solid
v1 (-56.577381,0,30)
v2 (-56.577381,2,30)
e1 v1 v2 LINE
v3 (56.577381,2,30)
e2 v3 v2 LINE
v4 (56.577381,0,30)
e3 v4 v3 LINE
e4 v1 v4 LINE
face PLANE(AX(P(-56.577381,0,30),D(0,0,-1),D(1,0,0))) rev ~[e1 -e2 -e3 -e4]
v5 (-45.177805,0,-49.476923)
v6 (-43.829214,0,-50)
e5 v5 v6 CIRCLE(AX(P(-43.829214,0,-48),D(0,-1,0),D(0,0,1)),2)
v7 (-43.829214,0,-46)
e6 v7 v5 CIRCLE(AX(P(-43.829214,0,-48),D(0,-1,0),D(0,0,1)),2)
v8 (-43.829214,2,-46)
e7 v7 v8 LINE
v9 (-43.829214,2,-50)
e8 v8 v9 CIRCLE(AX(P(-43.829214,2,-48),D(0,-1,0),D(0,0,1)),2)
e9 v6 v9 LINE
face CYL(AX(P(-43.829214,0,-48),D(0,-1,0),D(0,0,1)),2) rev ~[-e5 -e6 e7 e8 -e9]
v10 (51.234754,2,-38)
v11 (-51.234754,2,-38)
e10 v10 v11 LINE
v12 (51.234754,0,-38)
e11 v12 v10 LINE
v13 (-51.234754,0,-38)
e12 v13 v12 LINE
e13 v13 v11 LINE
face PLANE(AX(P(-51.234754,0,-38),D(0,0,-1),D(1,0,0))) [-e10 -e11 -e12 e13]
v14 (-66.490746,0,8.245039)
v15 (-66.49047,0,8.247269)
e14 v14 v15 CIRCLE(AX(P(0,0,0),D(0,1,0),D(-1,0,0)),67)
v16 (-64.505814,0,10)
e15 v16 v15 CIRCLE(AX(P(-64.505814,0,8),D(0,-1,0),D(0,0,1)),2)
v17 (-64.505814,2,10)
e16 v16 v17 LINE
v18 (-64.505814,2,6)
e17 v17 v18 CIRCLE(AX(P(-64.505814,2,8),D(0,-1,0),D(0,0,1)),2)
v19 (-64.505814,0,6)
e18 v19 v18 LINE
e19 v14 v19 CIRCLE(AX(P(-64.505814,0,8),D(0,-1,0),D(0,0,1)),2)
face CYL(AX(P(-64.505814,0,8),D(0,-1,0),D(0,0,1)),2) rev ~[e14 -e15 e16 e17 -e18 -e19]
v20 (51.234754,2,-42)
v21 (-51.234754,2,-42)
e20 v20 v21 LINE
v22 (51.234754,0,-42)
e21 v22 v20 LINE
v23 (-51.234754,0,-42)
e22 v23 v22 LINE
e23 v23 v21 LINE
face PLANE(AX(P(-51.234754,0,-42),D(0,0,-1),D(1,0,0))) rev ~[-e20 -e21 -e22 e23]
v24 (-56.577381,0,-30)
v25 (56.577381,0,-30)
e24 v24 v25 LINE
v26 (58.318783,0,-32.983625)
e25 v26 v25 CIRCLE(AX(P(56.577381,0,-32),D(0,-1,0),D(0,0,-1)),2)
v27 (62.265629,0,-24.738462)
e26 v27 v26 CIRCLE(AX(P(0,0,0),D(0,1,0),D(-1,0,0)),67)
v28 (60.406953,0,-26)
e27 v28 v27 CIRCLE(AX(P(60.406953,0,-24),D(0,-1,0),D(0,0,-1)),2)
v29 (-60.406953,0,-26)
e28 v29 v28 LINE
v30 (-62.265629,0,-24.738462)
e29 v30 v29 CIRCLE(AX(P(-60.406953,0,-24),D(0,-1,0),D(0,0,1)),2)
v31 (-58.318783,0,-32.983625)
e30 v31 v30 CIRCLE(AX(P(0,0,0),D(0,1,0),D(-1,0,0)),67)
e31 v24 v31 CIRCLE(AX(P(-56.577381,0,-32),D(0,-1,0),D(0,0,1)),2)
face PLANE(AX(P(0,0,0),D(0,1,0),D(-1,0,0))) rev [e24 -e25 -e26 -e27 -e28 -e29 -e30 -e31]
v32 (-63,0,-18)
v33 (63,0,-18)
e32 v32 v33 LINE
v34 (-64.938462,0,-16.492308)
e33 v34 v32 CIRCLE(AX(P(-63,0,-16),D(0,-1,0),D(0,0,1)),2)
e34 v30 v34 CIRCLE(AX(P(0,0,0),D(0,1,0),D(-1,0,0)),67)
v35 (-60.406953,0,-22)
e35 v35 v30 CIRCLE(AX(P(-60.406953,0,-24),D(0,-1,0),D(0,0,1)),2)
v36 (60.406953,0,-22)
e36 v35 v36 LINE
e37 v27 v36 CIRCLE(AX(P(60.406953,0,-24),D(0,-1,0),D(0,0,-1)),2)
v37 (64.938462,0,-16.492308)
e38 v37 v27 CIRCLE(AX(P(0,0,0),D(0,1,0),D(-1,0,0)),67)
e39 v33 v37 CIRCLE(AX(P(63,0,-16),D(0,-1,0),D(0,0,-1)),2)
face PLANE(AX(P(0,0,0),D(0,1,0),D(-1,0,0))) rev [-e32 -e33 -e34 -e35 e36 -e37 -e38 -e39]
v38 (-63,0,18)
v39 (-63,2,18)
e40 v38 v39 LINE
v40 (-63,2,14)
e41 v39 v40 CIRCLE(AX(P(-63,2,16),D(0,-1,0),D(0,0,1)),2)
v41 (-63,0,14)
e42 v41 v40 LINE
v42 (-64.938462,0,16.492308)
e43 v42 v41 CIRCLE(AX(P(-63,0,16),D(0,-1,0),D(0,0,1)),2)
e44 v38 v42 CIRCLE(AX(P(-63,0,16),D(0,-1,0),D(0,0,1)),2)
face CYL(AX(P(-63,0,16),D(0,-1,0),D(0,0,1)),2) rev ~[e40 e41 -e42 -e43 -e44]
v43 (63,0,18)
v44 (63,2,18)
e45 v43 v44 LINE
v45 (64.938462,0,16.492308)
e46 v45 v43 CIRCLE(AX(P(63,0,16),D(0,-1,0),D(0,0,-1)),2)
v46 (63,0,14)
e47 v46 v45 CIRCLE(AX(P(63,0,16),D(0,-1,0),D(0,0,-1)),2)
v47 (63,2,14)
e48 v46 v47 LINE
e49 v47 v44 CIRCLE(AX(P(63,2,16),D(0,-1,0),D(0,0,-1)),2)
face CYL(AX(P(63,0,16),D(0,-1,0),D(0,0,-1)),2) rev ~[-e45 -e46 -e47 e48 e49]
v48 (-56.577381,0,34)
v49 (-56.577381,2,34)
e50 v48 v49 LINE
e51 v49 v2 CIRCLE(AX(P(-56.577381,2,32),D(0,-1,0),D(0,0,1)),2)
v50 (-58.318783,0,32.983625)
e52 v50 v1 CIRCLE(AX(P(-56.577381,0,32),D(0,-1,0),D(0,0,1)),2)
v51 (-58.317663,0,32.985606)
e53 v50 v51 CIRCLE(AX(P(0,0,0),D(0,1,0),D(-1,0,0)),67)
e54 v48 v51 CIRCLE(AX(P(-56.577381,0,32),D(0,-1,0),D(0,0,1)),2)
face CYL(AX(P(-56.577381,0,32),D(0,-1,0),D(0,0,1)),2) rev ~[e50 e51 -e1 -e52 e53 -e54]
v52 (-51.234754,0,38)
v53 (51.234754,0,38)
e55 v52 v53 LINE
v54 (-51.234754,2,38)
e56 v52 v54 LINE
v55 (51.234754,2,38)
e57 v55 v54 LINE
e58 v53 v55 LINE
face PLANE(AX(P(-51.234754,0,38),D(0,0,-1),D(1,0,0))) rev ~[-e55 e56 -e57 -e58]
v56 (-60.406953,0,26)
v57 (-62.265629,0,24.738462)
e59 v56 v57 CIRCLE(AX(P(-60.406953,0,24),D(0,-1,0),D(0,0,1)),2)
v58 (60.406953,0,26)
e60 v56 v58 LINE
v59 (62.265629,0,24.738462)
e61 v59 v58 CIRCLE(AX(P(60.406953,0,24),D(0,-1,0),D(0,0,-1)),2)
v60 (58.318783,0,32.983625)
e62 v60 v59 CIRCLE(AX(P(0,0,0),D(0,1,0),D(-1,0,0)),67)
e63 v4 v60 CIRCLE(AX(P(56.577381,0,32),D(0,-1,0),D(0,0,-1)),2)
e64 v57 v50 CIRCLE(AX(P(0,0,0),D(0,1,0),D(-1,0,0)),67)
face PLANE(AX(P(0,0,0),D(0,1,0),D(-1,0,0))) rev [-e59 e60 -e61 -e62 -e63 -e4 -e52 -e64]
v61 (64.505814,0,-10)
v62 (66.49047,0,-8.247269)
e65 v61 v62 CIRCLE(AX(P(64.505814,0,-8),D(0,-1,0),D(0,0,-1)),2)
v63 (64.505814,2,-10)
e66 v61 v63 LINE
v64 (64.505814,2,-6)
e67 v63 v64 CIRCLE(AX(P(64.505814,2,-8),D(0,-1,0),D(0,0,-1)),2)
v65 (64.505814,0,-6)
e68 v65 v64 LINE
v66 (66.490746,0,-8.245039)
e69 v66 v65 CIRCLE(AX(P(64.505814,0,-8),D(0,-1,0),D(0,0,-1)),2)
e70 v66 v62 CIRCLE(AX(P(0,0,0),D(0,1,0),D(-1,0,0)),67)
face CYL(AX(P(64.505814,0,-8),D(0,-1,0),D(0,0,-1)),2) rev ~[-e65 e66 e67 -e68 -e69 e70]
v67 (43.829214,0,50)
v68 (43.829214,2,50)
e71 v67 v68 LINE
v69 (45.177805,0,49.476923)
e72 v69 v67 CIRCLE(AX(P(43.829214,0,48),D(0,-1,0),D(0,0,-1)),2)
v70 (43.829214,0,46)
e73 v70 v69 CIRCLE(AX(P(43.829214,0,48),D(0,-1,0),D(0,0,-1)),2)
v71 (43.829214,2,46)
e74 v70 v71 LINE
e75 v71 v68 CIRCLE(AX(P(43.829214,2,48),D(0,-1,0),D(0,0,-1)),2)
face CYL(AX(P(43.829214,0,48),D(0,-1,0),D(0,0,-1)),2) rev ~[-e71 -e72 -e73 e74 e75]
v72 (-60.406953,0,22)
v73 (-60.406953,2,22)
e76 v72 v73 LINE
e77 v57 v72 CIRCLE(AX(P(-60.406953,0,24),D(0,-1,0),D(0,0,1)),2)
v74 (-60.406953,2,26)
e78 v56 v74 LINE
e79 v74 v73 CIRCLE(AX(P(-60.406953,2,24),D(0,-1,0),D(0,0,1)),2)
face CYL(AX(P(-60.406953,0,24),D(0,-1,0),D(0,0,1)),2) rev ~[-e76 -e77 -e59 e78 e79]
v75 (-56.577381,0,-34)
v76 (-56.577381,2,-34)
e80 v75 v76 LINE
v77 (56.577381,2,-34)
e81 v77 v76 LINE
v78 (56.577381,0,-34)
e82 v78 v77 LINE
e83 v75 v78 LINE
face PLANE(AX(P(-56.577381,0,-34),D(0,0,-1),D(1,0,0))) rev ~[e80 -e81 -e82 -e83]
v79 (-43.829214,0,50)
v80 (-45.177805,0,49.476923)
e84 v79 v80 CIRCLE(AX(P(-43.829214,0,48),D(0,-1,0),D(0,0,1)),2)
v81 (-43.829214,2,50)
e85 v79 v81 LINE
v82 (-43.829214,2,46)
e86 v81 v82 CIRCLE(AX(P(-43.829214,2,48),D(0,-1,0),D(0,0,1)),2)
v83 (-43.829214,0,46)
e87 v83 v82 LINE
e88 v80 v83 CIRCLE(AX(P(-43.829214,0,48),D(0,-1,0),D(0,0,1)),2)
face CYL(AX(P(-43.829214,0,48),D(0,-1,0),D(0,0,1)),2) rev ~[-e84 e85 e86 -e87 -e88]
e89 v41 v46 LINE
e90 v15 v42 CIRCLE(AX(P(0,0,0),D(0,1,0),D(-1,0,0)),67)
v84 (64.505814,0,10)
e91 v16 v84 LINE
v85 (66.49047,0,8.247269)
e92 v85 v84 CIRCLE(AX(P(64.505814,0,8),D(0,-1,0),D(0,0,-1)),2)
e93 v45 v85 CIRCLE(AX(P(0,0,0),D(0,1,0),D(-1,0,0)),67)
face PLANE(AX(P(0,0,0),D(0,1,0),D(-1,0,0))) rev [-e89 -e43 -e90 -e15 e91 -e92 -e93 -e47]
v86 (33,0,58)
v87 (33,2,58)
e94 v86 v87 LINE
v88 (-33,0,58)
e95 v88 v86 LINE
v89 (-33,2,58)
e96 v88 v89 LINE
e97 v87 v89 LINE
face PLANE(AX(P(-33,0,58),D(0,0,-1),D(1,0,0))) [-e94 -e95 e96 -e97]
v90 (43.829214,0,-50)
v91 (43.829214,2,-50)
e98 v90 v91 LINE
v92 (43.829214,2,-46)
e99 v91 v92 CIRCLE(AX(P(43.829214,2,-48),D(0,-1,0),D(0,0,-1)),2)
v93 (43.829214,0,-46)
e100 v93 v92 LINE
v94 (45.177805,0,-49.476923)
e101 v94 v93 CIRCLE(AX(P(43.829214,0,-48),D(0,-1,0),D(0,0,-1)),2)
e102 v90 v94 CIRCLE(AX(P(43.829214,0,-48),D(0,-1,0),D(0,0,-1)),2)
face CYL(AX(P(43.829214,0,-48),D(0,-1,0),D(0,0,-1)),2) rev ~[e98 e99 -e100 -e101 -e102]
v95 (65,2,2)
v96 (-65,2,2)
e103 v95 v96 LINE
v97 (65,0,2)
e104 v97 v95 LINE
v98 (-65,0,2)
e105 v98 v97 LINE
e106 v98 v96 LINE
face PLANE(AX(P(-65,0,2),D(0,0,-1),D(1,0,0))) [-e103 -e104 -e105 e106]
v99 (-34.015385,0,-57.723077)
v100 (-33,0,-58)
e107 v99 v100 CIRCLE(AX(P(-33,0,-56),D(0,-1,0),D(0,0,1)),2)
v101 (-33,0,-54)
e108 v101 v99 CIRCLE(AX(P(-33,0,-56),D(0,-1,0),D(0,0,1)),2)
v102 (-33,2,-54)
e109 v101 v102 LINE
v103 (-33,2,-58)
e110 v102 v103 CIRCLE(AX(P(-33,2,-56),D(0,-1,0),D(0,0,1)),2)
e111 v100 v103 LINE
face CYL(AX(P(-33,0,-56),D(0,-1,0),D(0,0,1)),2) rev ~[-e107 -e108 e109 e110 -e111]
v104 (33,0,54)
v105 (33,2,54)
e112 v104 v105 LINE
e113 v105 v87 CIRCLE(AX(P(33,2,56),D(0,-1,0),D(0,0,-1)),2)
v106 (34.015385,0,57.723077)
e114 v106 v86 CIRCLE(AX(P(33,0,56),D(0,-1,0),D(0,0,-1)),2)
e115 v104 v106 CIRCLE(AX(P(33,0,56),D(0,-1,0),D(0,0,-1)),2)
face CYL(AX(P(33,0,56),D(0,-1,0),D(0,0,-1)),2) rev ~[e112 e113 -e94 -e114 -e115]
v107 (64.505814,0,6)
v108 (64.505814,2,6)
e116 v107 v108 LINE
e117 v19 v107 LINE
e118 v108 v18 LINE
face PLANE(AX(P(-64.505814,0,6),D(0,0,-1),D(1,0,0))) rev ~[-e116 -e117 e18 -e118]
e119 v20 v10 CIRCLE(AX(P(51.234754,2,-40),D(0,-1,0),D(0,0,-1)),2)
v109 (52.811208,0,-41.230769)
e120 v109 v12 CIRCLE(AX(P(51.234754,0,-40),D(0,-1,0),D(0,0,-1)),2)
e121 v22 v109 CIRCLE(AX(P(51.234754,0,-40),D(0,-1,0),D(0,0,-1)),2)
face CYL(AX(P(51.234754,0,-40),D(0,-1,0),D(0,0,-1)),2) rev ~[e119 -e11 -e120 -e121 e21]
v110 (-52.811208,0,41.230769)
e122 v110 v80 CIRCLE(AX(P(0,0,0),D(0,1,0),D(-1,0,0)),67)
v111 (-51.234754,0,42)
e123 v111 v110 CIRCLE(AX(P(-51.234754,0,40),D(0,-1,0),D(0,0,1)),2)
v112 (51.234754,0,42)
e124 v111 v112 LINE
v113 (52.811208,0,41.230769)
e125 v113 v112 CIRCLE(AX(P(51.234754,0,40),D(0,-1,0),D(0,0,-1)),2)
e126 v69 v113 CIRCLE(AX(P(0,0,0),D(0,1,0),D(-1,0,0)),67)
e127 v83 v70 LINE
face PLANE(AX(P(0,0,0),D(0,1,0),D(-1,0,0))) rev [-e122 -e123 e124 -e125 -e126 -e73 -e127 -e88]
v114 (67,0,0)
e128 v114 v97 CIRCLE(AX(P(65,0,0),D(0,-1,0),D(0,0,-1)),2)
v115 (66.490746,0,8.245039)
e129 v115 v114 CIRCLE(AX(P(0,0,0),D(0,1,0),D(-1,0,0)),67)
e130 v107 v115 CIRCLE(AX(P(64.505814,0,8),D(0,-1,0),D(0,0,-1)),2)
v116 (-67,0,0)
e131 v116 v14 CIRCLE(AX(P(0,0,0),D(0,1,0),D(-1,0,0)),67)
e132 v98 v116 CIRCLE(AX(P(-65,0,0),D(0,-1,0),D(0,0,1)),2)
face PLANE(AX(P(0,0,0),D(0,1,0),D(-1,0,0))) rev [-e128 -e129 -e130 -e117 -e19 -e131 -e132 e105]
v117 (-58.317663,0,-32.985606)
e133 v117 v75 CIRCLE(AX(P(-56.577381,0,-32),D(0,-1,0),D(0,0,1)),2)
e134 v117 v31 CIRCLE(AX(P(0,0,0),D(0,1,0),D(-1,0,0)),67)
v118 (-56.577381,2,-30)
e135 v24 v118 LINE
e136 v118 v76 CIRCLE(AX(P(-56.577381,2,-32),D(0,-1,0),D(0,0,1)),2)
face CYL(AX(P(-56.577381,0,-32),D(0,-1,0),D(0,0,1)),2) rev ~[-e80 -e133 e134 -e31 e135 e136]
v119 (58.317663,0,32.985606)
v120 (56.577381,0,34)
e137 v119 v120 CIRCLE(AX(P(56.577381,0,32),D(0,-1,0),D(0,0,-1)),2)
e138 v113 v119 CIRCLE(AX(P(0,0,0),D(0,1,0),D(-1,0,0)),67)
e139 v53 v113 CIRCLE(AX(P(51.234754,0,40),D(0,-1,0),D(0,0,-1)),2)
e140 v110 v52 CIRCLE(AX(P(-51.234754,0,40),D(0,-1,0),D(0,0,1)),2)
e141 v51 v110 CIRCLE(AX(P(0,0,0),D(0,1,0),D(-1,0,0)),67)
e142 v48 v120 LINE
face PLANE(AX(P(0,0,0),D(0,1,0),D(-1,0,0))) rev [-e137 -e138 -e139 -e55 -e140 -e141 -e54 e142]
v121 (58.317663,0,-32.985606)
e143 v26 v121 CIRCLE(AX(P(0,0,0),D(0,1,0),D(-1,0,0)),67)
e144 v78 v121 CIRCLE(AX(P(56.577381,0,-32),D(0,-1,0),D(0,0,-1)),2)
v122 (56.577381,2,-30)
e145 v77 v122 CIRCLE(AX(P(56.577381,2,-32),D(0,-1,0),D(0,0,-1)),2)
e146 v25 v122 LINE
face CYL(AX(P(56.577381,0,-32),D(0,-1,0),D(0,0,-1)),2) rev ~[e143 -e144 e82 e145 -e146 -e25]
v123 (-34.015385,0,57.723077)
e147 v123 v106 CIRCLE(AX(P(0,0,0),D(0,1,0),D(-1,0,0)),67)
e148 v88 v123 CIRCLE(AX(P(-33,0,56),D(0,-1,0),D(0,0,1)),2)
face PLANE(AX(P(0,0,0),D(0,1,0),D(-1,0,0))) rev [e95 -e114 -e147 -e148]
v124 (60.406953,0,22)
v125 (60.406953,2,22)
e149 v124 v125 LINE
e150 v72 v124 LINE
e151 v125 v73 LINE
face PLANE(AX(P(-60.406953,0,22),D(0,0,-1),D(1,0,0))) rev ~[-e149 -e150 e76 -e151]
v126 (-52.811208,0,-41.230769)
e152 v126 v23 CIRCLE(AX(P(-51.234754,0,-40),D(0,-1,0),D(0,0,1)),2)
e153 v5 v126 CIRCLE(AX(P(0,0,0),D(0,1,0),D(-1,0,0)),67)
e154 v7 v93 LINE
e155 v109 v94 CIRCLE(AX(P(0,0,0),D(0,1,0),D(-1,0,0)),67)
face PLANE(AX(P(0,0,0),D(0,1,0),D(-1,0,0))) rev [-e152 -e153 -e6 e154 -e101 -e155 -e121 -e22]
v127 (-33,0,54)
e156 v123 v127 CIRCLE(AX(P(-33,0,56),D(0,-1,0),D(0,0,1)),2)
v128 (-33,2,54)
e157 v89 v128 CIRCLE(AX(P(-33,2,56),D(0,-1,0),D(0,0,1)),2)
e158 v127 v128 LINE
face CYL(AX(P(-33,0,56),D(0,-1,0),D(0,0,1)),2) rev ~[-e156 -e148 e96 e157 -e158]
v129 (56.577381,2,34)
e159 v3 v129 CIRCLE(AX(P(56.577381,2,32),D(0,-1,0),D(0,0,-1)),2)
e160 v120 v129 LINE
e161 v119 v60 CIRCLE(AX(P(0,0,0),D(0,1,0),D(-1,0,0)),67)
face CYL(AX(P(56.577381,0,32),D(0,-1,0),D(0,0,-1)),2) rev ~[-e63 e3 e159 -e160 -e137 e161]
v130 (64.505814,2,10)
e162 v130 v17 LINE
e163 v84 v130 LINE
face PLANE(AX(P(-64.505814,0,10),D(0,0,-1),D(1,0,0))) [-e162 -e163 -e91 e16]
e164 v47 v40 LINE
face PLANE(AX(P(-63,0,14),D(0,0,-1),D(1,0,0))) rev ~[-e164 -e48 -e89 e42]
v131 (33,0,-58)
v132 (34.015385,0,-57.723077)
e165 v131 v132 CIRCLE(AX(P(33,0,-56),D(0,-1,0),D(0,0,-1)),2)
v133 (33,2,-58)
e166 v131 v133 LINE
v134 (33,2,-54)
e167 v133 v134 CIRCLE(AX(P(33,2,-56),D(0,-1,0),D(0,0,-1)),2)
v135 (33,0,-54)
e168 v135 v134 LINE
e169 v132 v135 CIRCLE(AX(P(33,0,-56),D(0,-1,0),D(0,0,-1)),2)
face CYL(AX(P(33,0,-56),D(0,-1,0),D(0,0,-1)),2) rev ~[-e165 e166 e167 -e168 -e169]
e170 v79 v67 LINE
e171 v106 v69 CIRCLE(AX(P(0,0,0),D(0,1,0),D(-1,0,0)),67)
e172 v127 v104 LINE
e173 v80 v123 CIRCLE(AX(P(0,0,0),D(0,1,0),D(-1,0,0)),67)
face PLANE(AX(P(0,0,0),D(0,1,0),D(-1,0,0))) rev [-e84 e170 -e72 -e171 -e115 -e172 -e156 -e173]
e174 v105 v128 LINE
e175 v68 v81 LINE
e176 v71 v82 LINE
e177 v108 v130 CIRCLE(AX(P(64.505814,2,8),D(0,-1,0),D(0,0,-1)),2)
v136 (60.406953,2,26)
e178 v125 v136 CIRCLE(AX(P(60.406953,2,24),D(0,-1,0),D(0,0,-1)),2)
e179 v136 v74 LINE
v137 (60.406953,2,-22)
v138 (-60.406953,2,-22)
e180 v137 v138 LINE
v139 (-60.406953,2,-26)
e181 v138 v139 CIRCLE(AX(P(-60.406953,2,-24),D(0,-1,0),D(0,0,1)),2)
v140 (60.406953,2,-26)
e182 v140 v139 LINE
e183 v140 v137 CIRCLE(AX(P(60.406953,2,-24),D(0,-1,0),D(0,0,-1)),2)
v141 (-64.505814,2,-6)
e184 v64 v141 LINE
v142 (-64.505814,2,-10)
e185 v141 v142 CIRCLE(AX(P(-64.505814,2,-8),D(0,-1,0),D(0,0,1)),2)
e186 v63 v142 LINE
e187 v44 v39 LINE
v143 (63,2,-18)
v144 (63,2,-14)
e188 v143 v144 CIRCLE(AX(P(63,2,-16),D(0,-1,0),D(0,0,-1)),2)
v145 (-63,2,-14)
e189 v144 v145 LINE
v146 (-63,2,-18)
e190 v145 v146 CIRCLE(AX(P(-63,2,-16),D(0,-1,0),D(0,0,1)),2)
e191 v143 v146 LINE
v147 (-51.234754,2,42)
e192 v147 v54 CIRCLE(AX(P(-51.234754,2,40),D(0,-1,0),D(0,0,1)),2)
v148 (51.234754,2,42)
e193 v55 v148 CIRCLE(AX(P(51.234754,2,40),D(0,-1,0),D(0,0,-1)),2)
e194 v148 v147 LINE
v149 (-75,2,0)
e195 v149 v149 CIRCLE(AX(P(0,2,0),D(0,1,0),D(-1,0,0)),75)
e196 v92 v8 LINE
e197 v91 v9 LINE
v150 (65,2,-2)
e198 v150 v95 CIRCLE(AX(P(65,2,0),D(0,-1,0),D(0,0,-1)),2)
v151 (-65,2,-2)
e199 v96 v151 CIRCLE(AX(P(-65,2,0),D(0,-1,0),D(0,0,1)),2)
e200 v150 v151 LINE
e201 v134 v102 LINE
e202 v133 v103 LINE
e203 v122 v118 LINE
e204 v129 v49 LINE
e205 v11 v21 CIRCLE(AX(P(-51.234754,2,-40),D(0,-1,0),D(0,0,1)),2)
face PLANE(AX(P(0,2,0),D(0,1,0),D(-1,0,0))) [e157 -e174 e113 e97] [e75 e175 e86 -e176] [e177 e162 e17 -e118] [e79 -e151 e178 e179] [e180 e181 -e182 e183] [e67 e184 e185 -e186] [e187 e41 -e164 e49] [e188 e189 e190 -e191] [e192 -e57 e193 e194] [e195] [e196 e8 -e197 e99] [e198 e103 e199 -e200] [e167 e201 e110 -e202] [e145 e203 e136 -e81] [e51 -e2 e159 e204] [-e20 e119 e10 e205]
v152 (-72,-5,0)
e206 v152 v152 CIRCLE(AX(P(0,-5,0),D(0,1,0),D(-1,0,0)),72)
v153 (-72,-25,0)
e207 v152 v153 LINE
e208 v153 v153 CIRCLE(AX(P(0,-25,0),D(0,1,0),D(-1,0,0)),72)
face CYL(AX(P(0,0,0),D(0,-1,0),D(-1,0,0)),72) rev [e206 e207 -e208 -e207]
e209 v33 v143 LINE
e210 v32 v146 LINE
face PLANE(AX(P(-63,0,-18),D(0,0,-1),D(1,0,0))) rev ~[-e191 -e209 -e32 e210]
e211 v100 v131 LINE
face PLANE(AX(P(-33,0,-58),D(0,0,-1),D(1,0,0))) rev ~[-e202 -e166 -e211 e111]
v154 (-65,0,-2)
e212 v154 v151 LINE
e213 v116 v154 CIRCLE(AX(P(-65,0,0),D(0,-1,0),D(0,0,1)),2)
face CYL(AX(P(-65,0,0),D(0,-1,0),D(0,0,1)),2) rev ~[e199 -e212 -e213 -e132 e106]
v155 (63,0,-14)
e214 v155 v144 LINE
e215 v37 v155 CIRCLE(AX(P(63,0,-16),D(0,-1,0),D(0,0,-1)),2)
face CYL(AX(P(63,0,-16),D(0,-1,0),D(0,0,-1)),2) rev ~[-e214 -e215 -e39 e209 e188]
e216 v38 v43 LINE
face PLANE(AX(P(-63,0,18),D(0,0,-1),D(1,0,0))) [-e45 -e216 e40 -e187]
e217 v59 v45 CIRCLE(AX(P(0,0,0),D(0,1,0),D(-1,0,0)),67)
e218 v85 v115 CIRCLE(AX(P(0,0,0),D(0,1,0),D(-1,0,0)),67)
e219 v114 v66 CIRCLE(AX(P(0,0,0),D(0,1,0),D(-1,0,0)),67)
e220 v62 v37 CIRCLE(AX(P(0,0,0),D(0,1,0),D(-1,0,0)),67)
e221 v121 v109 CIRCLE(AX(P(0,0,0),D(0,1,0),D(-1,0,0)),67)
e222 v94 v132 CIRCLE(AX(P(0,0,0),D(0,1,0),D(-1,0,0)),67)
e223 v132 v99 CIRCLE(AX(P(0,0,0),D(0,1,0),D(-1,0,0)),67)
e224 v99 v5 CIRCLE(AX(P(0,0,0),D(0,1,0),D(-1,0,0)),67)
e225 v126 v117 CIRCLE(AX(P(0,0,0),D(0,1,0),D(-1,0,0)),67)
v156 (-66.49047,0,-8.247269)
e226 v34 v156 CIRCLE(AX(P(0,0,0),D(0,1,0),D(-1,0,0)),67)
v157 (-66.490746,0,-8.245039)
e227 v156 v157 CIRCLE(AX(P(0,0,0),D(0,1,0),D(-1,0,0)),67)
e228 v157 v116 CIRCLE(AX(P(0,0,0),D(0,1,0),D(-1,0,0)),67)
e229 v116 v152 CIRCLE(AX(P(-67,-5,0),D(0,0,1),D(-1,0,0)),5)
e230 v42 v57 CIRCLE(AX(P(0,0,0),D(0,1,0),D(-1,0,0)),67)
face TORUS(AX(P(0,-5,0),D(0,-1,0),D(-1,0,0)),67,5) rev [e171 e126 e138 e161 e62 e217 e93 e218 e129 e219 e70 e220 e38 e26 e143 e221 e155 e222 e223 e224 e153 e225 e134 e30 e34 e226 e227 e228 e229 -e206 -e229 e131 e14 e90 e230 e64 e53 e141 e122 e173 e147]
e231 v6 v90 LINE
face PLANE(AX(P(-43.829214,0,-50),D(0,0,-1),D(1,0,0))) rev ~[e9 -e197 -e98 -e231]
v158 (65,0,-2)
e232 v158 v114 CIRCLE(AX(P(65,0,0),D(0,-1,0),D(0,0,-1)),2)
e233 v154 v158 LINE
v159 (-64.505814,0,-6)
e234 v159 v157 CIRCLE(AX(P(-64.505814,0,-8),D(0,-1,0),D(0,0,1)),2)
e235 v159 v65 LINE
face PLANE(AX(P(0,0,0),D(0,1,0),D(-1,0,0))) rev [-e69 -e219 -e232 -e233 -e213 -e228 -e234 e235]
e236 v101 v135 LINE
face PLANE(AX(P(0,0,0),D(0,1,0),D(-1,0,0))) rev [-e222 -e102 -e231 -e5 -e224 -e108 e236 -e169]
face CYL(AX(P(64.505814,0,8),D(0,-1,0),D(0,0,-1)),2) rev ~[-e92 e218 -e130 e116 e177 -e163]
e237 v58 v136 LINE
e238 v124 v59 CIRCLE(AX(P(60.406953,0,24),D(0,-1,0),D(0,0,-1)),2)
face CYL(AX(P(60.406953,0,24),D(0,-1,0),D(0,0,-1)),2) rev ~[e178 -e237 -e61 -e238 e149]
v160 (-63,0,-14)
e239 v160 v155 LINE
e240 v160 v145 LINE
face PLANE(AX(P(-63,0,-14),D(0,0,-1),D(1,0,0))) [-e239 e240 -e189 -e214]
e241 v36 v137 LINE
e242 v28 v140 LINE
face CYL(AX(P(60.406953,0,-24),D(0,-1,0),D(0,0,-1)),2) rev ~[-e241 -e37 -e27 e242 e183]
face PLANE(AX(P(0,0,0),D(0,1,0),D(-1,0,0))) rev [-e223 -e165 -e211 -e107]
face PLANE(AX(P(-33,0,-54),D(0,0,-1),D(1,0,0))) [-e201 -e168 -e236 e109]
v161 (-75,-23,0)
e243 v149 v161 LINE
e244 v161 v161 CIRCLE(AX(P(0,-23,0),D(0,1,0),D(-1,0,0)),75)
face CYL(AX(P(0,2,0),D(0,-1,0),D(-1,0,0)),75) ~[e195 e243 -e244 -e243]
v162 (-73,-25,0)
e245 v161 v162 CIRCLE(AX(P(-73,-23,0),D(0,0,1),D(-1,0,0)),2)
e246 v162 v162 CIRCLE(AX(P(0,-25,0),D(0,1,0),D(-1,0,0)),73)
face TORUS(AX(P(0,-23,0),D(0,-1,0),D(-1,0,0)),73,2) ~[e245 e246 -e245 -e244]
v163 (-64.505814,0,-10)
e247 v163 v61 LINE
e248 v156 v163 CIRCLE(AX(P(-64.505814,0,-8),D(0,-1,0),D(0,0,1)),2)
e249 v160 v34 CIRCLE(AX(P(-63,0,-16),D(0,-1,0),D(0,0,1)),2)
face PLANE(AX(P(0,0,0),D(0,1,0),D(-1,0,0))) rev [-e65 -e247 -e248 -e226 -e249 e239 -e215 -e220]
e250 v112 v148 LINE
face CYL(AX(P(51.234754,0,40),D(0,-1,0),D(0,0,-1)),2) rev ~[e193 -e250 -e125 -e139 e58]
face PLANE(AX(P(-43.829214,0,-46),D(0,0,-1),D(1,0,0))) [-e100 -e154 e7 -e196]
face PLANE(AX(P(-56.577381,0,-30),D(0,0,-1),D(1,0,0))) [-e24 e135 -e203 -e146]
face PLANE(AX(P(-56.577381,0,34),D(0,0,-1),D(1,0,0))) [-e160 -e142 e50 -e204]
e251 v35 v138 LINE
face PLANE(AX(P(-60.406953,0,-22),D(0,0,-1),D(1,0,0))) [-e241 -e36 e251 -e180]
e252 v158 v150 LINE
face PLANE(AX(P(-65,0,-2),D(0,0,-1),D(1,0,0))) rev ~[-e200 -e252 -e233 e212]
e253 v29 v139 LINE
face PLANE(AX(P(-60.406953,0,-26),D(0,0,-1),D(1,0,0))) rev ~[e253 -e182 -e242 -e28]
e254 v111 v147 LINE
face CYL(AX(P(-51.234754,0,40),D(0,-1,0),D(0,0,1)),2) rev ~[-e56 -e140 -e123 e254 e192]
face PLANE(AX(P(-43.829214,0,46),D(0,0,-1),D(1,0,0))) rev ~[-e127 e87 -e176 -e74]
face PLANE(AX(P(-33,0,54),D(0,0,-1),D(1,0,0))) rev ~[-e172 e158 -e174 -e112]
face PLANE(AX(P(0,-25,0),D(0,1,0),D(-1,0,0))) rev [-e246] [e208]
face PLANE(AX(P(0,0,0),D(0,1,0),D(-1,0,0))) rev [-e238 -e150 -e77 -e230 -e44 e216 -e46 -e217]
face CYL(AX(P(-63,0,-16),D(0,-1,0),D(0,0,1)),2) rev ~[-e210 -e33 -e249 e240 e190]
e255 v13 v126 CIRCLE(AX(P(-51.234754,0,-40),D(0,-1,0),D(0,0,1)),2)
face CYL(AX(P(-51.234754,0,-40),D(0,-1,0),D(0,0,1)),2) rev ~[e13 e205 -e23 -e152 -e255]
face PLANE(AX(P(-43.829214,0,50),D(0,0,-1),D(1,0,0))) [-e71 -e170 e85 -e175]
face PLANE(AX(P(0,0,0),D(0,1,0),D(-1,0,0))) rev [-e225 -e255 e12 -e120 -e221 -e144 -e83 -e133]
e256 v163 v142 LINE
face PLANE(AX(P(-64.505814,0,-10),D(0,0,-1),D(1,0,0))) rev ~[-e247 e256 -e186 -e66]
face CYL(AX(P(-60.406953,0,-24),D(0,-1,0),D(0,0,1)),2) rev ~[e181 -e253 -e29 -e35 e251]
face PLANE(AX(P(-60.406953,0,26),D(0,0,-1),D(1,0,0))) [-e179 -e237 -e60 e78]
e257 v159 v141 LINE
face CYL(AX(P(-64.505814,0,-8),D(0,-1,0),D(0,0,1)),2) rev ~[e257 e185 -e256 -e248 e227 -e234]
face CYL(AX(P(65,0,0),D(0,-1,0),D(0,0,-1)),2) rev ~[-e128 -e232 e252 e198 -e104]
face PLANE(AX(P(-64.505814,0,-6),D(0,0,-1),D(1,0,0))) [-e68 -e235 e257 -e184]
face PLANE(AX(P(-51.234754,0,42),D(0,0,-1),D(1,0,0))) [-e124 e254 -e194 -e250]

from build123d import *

# Parameters (mm, degrees)
FILLET_R     = 5
POCKET_DEPTH = 5
FILLET003_R  = 2


with BuildPart() as part:
    # Sketch001 → Revolution001 (revolve)
    with BuildSketch(Plane.XY):
        Polygon((0, 0), (-72, 0), (-72, -25), (-75, -25), (-75, 0), (-75, 2), (0, 2), align=None)
    revolve(axis=Axis((0, 0, 0), (0, 1, 0)))

    # Fillet
    fillet_edges = [part.edges().sort_by_distance(p)[0] for p in [
        (72, 0, 0),
    ]]
    fillet(fillet_edges, radius=FILLET_R)

    # Sketch002 (on Face1 of Fillet) → Pocket (cut)
    with BuildSketch(Plane.XZ):
        with BuildLine():
            ThreePointArc((-65, 2), (-67, 0), (-65, -2))
            Line((-65, -2), (65, -2))
            ThreePointArc((65, -2), (67, 0), (65, 2))
            Line((-65, 2), (65, 2))
        make_face()
        with BuildLine():
            ThreePointArc((-64.505814, 10), (-66.505814, 8), (-64.505814, 6))
            Line((-64.505814, 6), (64.505814, 6))
            ThreePointArc((64.505814, 6), (66.505814, 8), (64.505814, 10))
            Line((-64.505814, 10), (64.505814, 10))
        make_face()
        with BuildLine():
            ThreePointArc((-63, 18), (-65, 16), (-63, 14))
            Line((-63, 14), (63, 14))
            ThreePointArc((63, 14), (65, 16), (63, 18))
            Line((-63, 18), (63, 18))
        make_face()
        with BuildLine():
            ThreePointArc((-60.406953, 26), (-62.406953, 24), (-60.406953, 22))
            Line((-60.406953, 22), (60.406953, 22))
            ThreePointArc((60.406953, 22), (62.406953, 24), (60.406953, 26))
            Line((-60.406953, 26), (60.406953, 26))
        make_face()
        with BuildLine():
            ThreePointArc((-56.577381, 34), (-58.577381, 32), (-56.577381, 30))
            Line((-56.577381, 30), (56.577381, 30))
            ThreePointArc((56.577381, 30), (58.577381, 32), (56.577381, 34))
            Line((-56.577381, 34), (56.577381, 34))
        make_face()
        with BuildLine():
            ThreePointArc((-51.234754, 42), (-53.234754, 40), (-51.234754, 38))
            Line((-51.234754, 38), (51.234754, 38))
            ThreePointArc((51.234754, 38), (53.234754, 40), (51.234754, 42))
            Line((-51.234754, 42), (51.234754, 42))
        make_face()
        with BuildLine():
            ThreePointArc((-43.829214, 50), (-45.829214, 48), (-43.829214, 46))
            Line((-43.829214, 46), (43.829214, 46))
            ThreePointArc((43.829214, 46), (45.829214, 48), (43.829214, 50))
            Line((-43.829214, 50), (43.829214, 50))
        make_face()
        with BuildLine():
            ThreePointArc((-33, 58), (-35, 56), (-33, 54))
            Line((-33, 54), (33, 54))
            ThreePointArc((33, 54), (35, 56), (33, 58))
            Line((-33, 58), (33, 58))
        make_face()
        with BuildLine():
            ThreePointArc((-64.505814, -6), (-66.505814, -8), (-64.505814, -10))
            Line((-64.505814, -10), (64.505814, -10))
            ThreePointArc((64.505814, -10), (66.505814, -8), (64.505814, -6))
            Line((-64.505814, -6), (64.505814, -6))
        make_face()
        with BuildLine():
            ThreePointArc((-63, -14), (-65, -16), (-63, -18))
            Line((-63, -18), (63, -18))
            ThreePointArc((63, -18), (65, -16), (63, -14))
            Line((-63, -14), (63, -14))
        make_face()
        with BuildLine():
            ThreePointArc((-60.406953, -22), (-62.406953, -24), (-60.406953, -26))
            Line((-60.406953, -26), (60.406953, -26))
            ThreePointArc((60.406953, -26), (62.406953, -24), (60.406953, -22))
            Line((-60.406953, -22), (60.406953, -22))
        make_face()
        with BuildLine():
            ThreePointArc((-56.577381, -30), (-58.577381, -32), (-56.577381, -34))
            Line((-56.577381, -34), (56.577381, -34))
            ThreePointArc((56.577381, -34), (58.577381, -32), (56.577381, -30))
            Line((-56.577381, -30), (56.577381, -30))
        make_face()
        with BuildLine():
            ThreePointArc((-51.234754, -38), (-53.234754, -40), (-51.234754, -42))
            Line((-51.234754, -42), (51.234754, -42))
            ThreePointArc((51.234754, -42), (53.234754, -40), (51.234754, -38))
            Line((-51.234754, -38), (51.234754, -38))
        make_face()
        with BuildLine():
            ThreePointArc((-43.829214, -46), (-45.829214, -48), (-43.829214, -50))
            Line((-43.829214, -50), (43.829214, -50))
            ThreePointArc((43.829214, -50), (45.829214, -48), (43.829214, -46))
            Line((-43.829214, -46), (43.829214, -46))
        make_face()
        with BuildLine():
            ThreePointArc((-33, -54), (-35, -56), (-33, -58))
            Line((-33, -58), (33, -58))
            ThreePointArc((33, -58), (35, -56), (33, -54))
            Line((-33, -54), (33, -54))
        make_face()
    extrude(amount=-POCKET_DEPTH, mode=Mode.SUBTRACT)

    # Fillet003
    fillet003_edges = [part.edges().sort_by_distance(p)[0] for p in [
        (75, -25, 0),
    ]]
    fillet(fillet003_edges, radius=FILLET003_R)


solid = part.part
